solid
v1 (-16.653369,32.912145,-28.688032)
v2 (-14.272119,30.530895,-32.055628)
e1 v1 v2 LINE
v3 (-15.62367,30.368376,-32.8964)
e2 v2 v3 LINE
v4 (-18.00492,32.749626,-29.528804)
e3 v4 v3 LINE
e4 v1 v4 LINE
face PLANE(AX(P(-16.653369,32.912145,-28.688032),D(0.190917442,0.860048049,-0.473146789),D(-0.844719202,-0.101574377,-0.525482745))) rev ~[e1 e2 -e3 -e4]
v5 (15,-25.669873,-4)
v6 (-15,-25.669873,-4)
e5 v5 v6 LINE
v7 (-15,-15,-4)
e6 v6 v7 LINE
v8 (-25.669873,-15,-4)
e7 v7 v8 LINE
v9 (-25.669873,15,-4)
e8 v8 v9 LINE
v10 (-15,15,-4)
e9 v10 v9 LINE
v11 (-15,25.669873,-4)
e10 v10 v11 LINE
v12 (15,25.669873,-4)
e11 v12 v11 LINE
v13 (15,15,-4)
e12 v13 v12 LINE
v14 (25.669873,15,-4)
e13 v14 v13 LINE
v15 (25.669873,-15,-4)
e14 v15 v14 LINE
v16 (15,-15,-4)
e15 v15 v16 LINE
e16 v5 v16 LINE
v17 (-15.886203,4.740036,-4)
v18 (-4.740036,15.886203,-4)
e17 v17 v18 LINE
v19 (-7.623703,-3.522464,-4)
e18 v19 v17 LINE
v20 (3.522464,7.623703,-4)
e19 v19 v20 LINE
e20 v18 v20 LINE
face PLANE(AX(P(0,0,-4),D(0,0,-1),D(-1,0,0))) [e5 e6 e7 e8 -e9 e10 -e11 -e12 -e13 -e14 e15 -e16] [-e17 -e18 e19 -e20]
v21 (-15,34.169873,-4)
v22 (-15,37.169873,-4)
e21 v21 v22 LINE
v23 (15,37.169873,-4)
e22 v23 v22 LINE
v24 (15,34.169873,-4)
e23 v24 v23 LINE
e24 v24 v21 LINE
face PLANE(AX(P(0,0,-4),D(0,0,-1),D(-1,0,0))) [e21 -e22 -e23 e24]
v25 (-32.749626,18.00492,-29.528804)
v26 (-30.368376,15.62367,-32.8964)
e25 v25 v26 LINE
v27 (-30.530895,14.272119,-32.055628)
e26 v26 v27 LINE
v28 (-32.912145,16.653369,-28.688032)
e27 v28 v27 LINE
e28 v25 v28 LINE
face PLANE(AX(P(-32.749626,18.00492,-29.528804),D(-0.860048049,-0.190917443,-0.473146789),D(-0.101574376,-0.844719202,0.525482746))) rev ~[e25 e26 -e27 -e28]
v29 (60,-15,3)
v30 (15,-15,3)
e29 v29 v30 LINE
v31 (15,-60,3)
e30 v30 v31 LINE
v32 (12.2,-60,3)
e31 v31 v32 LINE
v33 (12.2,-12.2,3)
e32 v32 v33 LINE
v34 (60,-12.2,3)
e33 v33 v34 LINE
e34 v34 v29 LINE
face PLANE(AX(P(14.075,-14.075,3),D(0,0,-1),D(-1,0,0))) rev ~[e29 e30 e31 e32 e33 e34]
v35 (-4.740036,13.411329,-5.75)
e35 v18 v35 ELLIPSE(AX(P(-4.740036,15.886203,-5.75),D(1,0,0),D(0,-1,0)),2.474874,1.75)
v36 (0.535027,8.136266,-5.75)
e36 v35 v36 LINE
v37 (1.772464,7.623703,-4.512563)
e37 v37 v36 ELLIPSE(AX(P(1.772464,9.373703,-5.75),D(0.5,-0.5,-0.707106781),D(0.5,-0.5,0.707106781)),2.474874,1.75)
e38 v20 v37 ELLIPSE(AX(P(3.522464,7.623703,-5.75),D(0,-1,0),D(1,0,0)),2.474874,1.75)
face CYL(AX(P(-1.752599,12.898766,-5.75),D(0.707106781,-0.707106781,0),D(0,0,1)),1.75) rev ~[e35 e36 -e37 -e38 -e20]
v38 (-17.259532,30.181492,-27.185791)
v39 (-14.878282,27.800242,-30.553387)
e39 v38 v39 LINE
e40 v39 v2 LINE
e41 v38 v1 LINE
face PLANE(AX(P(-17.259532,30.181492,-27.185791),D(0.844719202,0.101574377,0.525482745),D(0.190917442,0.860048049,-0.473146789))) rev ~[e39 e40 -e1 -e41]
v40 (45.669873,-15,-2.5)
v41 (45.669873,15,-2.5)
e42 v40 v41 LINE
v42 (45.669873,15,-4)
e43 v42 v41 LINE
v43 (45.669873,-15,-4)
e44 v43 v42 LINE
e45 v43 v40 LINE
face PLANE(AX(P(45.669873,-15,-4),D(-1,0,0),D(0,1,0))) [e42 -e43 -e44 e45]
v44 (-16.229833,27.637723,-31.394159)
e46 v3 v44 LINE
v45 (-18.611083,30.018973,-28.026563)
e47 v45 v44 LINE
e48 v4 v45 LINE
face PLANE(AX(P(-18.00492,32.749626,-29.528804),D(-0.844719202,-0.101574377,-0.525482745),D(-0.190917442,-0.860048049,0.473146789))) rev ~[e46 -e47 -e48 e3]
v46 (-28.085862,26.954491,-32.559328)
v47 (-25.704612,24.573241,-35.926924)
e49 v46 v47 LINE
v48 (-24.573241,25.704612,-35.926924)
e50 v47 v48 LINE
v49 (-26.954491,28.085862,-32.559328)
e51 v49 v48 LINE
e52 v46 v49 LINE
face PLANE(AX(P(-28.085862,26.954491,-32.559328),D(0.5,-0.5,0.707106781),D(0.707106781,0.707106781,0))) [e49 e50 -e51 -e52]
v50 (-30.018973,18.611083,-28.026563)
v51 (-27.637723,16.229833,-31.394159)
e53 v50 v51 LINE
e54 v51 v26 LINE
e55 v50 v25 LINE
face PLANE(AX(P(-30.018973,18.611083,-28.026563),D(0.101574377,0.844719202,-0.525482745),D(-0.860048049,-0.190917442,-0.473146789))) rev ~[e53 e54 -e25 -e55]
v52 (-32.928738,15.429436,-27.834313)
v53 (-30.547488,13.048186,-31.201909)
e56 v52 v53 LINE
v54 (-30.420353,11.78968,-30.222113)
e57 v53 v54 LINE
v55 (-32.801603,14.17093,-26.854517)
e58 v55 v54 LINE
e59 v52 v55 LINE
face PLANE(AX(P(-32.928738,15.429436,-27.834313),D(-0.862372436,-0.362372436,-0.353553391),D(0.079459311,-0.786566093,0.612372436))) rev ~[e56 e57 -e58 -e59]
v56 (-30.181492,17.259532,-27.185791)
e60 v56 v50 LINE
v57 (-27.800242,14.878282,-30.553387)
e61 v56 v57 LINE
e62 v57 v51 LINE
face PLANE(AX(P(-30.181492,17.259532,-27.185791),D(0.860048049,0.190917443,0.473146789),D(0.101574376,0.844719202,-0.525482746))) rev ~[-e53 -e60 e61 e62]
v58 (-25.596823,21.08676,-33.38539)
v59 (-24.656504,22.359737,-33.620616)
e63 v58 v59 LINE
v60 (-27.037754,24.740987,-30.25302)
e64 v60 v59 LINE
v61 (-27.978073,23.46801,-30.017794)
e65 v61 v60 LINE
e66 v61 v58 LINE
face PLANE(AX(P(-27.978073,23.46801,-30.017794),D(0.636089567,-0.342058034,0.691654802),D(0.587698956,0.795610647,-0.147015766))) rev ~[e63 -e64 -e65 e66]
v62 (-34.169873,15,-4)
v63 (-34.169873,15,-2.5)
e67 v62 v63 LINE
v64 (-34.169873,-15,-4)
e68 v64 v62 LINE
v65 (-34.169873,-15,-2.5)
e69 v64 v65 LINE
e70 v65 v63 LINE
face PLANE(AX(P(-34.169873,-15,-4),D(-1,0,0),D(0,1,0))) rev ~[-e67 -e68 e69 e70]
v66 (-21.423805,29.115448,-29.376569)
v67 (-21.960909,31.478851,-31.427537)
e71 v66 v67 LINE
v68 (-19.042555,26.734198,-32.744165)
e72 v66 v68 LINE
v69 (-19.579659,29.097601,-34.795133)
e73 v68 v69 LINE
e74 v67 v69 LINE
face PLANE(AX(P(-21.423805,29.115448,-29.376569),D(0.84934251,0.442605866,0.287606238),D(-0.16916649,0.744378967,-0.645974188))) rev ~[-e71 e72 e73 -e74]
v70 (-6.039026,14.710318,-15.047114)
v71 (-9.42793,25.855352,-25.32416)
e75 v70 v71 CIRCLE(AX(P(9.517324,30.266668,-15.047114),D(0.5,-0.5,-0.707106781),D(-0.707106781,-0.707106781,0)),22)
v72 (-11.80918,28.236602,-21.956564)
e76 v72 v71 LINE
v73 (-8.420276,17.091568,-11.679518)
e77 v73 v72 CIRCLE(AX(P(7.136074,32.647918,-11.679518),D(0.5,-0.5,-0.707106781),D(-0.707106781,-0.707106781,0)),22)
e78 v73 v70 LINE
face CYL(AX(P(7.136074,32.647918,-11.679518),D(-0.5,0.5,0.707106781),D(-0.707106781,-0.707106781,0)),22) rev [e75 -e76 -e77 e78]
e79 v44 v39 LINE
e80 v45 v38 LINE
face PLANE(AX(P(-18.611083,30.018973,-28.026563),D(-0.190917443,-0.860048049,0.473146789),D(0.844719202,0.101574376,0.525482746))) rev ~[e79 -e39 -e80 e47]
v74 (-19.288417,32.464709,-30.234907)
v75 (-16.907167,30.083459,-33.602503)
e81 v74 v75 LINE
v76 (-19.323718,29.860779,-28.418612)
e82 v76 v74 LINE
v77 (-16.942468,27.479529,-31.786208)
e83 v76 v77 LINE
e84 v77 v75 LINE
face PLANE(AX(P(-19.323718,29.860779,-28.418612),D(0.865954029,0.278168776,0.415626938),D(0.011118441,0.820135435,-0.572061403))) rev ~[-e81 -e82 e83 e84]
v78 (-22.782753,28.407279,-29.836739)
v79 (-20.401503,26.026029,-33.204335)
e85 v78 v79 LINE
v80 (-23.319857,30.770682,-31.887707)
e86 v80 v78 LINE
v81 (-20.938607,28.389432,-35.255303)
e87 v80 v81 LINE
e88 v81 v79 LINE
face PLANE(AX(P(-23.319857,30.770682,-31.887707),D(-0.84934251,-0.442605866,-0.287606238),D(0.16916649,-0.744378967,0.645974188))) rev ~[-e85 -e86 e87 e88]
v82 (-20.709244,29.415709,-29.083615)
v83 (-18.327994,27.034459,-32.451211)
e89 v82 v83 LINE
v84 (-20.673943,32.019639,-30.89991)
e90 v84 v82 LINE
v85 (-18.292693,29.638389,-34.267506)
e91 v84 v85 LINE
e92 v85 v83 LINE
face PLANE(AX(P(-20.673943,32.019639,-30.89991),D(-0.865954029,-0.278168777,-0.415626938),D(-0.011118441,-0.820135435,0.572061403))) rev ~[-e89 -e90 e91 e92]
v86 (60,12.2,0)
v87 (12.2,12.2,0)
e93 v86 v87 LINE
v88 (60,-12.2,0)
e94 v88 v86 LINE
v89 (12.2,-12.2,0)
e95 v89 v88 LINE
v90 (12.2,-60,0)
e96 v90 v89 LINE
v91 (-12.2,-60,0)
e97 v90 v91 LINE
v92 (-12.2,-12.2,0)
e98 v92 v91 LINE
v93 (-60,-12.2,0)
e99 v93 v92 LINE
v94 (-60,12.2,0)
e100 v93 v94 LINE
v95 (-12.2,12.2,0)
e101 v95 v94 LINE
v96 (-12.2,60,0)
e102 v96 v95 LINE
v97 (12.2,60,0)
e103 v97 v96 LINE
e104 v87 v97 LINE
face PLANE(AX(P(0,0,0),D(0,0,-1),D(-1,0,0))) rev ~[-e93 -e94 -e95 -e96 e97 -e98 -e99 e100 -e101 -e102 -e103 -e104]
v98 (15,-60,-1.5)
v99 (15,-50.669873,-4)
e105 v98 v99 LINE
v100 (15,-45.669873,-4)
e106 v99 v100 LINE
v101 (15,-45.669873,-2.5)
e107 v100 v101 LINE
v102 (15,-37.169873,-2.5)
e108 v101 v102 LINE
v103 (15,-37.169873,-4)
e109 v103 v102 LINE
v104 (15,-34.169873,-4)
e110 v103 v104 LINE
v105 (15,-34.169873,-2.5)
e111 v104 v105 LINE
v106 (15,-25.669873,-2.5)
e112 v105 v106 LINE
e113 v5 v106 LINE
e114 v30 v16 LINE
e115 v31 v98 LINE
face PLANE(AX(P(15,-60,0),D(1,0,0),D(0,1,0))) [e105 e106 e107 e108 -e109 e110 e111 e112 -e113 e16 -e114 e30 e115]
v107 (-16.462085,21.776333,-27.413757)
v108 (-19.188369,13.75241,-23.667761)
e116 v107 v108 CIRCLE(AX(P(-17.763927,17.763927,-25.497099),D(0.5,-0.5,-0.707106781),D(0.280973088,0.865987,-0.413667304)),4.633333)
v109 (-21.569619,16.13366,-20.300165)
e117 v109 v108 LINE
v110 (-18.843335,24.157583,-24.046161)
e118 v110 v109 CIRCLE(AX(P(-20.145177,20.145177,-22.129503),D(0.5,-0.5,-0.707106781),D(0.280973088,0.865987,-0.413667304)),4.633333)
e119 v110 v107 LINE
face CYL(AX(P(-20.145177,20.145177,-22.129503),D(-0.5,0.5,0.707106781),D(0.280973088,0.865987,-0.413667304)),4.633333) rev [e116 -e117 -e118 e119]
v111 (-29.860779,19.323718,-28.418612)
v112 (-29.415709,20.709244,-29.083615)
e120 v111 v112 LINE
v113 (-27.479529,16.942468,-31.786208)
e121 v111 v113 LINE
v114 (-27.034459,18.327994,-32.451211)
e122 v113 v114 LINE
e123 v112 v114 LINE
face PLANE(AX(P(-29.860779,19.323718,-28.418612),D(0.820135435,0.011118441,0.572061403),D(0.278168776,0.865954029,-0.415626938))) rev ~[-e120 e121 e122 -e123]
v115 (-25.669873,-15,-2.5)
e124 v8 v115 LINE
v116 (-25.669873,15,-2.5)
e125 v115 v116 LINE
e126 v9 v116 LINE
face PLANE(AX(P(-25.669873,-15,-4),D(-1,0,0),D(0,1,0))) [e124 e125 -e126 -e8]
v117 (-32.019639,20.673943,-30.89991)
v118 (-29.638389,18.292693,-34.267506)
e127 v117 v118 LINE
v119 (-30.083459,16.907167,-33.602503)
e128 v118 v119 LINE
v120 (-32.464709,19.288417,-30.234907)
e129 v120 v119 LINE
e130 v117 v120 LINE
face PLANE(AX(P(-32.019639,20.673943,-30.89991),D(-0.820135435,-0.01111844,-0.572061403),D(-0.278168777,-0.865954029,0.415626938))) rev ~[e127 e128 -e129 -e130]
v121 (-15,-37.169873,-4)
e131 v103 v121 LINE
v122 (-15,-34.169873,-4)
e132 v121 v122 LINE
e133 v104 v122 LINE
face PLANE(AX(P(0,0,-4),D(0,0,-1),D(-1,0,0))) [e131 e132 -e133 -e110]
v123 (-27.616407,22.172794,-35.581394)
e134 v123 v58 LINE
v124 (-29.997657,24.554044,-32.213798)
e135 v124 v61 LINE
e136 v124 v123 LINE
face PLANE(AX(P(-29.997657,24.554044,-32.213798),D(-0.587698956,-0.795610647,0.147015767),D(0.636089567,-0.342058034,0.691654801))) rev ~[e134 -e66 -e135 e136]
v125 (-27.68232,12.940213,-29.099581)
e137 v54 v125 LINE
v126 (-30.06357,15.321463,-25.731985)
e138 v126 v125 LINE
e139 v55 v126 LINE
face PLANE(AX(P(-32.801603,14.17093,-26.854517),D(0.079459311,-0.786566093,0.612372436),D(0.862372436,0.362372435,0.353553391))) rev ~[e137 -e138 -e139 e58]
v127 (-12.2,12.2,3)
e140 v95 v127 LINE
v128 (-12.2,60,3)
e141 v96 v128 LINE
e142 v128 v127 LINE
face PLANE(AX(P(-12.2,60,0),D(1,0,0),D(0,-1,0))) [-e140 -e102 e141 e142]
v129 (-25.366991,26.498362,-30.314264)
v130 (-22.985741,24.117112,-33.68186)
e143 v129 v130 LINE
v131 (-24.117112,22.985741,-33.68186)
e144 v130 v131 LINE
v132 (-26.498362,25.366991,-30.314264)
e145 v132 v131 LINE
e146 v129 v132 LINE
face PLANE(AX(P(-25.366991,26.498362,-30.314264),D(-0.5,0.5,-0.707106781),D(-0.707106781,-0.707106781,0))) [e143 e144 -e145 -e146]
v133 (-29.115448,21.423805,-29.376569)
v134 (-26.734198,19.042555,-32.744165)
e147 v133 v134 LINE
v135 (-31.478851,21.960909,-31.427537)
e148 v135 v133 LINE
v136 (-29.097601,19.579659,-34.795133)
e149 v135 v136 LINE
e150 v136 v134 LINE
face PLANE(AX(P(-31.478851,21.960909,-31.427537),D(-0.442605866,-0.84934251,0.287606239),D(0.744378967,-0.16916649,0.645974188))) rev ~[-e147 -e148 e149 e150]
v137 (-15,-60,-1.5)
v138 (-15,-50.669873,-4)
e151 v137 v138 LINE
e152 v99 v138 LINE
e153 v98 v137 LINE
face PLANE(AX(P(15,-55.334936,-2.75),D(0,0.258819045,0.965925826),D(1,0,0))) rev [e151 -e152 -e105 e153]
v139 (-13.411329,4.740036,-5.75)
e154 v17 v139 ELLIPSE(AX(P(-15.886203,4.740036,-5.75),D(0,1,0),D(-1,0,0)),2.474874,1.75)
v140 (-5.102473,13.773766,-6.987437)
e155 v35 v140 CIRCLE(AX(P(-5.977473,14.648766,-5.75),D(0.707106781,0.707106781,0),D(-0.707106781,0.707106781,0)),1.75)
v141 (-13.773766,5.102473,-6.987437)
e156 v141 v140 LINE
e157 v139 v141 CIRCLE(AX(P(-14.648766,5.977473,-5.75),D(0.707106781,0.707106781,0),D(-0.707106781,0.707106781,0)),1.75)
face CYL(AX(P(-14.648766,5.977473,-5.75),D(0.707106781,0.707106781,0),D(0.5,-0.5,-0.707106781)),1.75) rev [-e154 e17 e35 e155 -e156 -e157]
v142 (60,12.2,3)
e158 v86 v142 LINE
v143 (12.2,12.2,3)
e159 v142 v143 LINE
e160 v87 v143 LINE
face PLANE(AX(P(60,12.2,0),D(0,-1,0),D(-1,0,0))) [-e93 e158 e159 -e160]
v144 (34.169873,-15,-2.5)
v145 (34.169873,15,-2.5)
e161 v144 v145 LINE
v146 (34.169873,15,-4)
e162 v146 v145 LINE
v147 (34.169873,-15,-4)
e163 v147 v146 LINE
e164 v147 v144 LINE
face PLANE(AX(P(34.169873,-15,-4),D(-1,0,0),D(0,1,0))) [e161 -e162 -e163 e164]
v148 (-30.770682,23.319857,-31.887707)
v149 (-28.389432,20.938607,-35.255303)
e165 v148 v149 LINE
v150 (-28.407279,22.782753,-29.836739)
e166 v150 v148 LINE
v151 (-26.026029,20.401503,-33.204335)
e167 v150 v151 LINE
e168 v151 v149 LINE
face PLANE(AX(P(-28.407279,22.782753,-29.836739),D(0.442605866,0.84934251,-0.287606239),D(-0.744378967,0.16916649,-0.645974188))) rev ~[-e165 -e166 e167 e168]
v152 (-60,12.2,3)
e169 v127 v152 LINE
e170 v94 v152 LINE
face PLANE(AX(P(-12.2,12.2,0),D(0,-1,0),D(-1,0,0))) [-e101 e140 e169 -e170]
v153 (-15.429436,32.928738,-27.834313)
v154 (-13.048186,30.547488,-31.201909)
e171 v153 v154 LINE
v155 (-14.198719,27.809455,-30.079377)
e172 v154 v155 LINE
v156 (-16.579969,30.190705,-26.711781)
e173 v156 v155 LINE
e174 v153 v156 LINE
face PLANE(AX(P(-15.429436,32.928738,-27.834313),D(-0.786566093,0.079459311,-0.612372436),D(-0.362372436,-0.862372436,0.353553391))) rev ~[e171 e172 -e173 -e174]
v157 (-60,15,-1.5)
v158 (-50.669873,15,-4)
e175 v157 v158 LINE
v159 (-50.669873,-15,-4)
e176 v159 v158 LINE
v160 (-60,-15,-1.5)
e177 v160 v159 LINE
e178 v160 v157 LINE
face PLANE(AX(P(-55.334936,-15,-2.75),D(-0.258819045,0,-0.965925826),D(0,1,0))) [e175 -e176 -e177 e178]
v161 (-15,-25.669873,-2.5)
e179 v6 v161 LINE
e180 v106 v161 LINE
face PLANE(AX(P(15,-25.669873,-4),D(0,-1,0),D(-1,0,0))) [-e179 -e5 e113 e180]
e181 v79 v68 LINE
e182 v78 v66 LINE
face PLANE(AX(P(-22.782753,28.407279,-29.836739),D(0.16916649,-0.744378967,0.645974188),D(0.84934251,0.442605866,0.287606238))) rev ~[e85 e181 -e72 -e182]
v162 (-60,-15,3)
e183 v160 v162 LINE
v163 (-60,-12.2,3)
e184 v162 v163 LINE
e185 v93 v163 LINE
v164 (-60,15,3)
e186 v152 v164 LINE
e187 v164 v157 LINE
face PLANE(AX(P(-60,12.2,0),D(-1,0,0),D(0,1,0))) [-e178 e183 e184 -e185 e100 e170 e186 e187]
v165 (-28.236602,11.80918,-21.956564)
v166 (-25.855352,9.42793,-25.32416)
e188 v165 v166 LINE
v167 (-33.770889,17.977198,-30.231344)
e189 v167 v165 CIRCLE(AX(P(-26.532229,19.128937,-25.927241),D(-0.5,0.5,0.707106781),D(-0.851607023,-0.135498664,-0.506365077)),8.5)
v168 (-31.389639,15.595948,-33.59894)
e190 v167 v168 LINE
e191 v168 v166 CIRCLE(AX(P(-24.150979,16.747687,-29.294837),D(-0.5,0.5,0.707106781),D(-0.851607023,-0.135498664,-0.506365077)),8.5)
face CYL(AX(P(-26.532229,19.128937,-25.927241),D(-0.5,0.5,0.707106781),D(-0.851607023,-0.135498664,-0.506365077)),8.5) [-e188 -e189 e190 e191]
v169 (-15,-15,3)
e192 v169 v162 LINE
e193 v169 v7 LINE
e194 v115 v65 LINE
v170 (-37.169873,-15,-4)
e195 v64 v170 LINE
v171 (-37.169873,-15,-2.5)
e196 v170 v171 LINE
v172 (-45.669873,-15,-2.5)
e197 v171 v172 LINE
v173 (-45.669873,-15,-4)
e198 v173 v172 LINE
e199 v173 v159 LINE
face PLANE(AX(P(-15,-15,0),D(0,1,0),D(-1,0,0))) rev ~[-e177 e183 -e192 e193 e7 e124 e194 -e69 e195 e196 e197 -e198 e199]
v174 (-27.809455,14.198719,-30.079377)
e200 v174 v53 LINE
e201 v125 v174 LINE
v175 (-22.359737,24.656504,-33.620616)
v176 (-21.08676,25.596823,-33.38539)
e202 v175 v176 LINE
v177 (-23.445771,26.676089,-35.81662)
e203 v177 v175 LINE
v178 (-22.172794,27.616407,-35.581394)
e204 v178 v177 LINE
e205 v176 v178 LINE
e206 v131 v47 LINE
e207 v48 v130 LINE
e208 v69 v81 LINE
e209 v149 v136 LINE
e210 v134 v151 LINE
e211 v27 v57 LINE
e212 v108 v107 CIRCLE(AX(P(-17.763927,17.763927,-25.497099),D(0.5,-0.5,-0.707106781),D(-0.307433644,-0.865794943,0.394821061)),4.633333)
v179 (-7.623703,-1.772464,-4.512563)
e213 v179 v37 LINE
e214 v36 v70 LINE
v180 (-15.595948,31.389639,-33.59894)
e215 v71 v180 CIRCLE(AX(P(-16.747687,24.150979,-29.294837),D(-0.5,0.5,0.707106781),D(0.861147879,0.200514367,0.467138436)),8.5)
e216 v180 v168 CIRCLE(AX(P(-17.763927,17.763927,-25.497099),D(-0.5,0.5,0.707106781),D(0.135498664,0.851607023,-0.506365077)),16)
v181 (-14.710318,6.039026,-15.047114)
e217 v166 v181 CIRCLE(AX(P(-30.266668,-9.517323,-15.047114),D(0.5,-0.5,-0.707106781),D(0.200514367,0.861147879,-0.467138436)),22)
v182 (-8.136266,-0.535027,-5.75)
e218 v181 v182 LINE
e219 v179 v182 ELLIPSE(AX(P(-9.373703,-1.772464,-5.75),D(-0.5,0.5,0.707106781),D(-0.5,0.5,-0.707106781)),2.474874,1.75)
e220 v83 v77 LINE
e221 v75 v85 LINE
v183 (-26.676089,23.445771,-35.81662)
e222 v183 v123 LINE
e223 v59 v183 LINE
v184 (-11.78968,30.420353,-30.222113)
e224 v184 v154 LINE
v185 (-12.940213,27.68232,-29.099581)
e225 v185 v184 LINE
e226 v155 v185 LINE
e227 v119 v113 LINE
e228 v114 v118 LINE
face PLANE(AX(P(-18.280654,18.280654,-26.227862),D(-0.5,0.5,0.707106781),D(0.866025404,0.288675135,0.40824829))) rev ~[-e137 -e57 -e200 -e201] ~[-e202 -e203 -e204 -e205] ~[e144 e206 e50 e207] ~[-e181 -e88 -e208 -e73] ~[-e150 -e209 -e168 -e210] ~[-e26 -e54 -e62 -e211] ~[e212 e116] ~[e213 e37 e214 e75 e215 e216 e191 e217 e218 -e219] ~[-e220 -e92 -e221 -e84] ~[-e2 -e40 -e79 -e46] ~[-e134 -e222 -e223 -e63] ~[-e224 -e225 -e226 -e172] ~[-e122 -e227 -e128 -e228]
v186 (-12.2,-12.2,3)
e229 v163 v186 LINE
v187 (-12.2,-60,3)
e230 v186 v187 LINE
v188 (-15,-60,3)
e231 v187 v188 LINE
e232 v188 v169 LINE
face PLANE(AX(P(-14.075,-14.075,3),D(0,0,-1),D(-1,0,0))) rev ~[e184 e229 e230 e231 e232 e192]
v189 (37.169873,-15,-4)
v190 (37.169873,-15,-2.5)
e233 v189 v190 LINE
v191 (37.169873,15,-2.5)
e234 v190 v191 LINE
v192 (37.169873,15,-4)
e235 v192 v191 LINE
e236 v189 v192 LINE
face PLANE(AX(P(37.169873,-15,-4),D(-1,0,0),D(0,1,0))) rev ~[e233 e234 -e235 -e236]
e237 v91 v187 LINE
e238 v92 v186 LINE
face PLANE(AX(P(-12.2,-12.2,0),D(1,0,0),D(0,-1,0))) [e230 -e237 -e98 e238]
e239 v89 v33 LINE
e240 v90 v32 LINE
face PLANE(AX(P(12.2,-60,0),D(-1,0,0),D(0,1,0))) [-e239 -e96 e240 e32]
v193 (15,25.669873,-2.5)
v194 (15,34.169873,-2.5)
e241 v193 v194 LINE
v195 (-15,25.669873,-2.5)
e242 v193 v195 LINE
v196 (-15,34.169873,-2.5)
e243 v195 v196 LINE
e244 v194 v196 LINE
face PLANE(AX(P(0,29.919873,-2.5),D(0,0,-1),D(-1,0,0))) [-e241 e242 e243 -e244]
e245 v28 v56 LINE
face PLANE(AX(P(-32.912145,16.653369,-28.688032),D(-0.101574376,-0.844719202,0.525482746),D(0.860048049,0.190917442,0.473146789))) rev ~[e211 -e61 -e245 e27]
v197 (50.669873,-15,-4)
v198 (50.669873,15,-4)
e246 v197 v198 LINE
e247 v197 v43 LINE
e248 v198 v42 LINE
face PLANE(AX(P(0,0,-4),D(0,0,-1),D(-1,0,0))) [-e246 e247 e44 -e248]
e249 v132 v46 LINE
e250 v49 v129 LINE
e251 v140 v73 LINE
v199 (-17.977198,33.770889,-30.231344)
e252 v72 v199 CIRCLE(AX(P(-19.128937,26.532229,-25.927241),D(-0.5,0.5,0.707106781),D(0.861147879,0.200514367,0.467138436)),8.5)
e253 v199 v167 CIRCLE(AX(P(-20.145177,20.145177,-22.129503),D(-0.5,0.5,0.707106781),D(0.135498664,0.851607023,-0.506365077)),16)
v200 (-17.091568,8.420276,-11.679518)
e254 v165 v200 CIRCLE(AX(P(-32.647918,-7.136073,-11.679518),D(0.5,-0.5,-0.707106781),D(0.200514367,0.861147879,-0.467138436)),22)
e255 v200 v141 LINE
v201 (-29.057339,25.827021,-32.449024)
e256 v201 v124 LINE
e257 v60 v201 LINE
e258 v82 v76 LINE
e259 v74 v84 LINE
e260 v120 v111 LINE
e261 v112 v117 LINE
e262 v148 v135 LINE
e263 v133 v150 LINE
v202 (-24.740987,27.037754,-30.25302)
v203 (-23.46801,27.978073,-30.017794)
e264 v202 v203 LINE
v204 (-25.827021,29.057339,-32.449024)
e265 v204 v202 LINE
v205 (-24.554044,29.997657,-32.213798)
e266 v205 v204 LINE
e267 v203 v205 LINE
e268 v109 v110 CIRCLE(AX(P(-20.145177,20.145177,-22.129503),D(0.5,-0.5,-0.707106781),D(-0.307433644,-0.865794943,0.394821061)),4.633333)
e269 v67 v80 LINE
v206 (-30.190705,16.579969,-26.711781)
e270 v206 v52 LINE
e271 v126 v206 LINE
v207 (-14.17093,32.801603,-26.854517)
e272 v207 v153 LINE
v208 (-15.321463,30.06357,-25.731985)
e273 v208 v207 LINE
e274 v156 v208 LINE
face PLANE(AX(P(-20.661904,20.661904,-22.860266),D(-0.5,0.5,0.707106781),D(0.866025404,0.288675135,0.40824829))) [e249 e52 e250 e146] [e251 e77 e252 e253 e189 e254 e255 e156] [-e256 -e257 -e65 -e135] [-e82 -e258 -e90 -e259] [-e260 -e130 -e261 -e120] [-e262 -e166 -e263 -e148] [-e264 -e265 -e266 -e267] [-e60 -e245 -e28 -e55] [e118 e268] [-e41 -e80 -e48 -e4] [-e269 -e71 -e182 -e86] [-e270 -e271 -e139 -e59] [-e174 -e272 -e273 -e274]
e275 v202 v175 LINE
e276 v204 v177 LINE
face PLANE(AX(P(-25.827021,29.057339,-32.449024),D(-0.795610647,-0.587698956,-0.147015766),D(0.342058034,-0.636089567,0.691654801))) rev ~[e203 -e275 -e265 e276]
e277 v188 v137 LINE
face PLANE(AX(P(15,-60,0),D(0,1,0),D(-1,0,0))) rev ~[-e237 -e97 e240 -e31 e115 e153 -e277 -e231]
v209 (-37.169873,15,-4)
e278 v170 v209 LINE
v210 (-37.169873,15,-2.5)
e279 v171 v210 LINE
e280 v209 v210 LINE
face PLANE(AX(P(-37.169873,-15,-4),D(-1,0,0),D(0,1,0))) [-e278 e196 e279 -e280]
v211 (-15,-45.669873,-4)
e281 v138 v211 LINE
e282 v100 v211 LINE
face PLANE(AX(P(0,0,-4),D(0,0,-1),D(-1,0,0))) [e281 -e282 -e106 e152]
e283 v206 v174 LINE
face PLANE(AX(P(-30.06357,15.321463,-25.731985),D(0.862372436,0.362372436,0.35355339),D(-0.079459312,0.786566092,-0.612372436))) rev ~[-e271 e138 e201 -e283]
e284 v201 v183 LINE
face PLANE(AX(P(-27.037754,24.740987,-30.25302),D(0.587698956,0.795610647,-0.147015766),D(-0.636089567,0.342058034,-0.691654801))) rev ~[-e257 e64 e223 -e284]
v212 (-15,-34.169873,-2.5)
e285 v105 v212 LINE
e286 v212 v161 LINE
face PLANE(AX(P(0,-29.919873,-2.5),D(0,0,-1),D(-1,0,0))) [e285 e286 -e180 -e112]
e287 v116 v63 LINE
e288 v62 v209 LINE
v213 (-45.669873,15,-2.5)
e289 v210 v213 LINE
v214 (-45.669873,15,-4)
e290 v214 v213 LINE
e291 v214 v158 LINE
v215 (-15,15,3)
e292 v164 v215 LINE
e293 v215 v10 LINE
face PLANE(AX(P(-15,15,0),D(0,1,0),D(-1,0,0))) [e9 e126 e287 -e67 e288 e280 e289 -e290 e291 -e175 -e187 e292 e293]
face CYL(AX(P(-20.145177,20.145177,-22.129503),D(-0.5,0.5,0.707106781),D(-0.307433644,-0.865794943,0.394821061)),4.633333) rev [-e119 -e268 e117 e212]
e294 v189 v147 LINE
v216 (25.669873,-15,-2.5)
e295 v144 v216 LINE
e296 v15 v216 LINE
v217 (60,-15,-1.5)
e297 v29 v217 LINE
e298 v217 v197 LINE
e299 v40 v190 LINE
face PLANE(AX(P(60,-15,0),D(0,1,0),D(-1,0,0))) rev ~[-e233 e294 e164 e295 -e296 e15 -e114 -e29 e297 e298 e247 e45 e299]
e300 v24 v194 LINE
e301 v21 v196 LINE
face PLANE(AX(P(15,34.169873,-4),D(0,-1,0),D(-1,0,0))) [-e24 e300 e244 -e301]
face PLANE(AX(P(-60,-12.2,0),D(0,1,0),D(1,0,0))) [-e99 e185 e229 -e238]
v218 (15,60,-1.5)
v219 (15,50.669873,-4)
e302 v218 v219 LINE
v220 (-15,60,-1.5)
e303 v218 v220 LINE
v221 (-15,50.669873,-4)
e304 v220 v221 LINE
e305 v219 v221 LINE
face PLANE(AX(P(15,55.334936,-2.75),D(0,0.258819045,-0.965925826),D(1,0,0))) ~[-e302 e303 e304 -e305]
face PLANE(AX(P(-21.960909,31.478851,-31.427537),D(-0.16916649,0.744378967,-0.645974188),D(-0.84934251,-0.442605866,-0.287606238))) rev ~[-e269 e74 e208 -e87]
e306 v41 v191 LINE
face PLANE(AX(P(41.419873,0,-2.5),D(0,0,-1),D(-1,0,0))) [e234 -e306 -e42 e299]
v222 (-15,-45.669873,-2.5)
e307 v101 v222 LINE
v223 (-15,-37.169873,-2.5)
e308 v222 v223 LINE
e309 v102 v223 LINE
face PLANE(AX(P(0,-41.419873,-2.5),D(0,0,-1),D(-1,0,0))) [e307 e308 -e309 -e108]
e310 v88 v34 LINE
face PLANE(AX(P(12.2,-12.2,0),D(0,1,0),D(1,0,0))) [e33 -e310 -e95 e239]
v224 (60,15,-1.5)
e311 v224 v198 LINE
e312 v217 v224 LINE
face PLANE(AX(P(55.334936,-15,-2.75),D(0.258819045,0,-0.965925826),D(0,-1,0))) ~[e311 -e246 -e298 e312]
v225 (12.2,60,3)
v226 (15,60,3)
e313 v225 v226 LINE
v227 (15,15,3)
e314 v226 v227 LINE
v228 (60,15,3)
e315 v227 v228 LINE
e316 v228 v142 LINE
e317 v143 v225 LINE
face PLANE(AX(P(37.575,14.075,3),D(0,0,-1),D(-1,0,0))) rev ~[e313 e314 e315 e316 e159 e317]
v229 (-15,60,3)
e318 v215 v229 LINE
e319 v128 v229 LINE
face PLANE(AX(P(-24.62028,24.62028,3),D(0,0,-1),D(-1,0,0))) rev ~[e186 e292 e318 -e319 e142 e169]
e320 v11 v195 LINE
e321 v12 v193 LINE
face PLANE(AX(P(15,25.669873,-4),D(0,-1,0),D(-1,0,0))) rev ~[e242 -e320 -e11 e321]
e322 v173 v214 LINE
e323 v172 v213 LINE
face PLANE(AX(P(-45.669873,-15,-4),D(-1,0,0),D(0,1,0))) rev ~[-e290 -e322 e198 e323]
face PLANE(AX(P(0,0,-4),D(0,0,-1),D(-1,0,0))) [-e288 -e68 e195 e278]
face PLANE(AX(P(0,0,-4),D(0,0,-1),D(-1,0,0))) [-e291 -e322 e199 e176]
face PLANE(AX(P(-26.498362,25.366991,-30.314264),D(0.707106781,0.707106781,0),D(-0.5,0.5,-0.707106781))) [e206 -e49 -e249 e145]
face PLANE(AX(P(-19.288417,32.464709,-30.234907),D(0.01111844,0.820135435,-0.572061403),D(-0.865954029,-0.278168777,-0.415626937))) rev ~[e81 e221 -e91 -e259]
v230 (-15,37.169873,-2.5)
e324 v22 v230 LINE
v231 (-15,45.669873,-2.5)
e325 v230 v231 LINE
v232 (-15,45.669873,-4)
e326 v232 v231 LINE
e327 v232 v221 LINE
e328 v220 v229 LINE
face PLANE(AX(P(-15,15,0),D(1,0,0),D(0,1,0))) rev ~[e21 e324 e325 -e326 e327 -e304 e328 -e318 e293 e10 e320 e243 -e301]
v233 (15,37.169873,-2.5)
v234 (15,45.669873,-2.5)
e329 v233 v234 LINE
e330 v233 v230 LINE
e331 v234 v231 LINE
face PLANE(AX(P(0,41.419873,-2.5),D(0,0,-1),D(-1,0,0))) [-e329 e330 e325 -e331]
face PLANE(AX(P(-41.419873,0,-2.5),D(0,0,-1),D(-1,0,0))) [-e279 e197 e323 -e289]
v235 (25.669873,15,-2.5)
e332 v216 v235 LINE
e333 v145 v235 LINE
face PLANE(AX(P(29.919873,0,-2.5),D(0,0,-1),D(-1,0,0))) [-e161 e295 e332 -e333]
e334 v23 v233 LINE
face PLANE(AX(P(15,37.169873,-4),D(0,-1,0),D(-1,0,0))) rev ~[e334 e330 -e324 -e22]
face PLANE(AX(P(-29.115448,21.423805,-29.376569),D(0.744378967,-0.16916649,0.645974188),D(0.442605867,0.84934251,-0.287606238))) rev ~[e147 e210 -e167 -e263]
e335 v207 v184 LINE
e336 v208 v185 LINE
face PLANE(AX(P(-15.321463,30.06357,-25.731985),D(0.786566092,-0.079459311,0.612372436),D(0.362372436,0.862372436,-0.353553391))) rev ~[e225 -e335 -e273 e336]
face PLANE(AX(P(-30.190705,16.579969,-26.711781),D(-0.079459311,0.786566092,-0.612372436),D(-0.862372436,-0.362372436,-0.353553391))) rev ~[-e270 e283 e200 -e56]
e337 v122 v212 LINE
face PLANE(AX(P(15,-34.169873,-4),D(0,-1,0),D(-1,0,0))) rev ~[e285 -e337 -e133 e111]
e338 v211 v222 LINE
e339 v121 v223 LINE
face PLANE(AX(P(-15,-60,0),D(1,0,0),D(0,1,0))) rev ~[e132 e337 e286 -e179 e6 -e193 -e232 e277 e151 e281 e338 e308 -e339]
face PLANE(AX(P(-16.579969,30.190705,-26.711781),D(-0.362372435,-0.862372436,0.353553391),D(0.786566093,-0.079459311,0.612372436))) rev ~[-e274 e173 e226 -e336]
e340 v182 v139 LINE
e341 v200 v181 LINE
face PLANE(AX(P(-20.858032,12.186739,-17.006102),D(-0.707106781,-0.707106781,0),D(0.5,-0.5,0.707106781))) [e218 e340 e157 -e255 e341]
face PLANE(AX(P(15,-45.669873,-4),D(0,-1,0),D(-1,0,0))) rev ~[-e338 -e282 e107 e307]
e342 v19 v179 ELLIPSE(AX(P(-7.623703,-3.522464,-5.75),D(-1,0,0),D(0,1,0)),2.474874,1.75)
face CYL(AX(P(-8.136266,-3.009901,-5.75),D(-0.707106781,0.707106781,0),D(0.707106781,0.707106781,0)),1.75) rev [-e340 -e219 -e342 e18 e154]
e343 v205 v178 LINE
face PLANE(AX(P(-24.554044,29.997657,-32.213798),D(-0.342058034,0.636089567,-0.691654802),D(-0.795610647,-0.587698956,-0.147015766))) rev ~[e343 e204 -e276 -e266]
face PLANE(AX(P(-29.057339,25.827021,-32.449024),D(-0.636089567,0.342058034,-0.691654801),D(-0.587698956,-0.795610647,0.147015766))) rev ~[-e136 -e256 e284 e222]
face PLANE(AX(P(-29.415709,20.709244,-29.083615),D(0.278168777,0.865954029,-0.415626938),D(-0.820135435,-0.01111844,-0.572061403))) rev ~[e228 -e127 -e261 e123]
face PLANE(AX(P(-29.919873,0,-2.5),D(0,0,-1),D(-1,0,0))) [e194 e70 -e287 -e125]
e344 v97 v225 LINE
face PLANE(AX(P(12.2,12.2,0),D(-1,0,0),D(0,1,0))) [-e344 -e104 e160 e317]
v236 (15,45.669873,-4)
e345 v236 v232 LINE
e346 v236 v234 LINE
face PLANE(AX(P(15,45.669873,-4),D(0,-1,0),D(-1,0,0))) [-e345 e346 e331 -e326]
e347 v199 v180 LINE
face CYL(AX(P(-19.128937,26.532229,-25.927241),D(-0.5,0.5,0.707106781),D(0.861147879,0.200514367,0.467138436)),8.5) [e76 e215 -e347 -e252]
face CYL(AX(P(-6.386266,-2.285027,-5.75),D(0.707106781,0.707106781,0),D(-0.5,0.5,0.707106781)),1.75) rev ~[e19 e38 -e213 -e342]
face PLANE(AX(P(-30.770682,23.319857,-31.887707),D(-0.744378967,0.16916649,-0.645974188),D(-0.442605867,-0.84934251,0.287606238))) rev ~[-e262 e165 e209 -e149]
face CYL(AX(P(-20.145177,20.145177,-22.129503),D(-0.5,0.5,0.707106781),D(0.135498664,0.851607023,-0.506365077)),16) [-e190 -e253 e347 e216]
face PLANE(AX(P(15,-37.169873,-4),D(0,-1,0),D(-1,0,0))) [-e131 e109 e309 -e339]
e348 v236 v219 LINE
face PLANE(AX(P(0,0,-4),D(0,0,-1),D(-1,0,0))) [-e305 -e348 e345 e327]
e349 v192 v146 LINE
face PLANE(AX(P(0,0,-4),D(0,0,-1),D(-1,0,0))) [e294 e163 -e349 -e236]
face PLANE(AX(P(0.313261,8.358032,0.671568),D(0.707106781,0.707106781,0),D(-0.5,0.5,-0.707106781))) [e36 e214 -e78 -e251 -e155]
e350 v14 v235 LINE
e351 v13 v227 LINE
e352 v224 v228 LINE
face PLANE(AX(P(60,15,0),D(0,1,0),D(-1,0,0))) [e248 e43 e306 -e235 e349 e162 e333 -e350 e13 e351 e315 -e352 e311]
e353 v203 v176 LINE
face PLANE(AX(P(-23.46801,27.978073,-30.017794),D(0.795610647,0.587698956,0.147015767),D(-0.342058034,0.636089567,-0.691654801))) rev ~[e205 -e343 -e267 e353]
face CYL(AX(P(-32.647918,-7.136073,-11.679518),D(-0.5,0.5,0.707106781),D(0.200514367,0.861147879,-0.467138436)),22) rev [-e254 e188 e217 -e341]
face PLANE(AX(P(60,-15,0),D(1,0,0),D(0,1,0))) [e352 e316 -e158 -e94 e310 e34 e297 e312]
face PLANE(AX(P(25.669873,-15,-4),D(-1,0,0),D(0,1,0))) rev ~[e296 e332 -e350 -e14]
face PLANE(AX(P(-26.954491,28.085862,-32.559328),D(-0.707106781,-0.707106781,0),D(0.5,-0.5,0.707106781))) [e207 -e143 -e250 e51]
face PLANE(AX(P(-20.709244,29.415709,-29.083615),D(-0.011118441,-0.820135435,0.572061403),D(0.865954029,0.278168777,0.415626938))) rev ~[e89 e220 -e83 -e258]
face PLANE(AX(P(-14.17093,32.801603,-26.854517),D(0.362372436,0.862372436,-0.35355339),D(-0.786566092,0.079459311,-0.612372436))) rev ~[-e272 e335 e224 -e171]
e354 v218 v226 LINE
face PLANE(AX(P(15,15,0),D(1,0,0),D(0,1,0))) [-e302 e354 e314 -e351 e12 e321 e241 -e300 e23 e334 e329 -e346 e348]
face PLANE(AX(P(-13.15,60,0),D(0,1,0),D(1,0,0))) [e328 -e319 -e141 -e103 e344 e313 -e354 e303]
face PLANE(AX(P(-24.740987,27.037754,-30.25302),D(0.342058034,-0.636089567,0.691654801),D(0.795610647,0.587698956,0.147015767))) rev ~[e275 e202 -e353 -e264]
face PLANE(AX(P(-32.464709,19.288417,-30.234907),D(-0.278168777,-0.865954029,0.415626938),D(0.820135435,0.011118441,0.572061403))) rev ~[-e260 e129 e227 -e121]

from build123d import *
from OCP.BRepFilletAPI import BRepFilletAPI_MakeChamfer

# Parameters (mm, degrees)
SKETCH1_W           = 1.85
SKETCH1_H           = 38.85
SKETCH1_H_2         = 6.15
SKETCH1_W_2         = 44.85
SKETCH1_H_3         = 1.85
SKETCH1_W_3         = 0.15
BOSS_EXTRUDE1_DEPTH = 3
SKETCH1_4_W         = 120
SKETCH1_4_H         = 30
SKETCH1_4_W_2       = 30
SKETCH1_4_H_2       = 120
BOSS_EXTRUDE3_DEPTH = 4
BOSS_EXTRUDE9_DEPTH = 3
CHAMFER1_SIZE       = 2.5
CHAMFER1_SIZE2      = 9.330127019
SKETCH4_W           = 8.5
SKETCH4_H           = 30
SKETCH4_W_2         = 30
SKETCH4_H_2         = 8.5
CUT_EXTRUDE1_DEPTH  = 1.5
BOSS_EXTRUDE7_DEPTH = 4.7625
SKETCH10_R          = 14.258178215
CUT_EXTRUDE2_DEPTH  = 91.287114527
FILLET1_R           = 1.75
BOSS_EXTRUDE8_DEPTH = 4.7625
CUT_EXTRUDE3_DEPTH  = 97.69049149


with BuildPart() as part:
    # Sketch1 → Boss-Extrude1 (new body)
    with BuildSketch(Plane(origin=(0, 0, 0), x_dir=(-1, 0, 0), z_dir=(0, 0, -1))):
        with Locations((14.075, 40.575)):
            Rectangle(SKETCH1_W, SKETCH1_H)
        with Locations((14.075, 18.075)):
            Rectangle(SKETCH1_W, SKETCH1_H_2)
        with Locations((37.575, 14.075)):
            Rectangle(SKETCH1_W_2, SKETCH1_H_3)
        with Locations((14.075, 14.075)):
            Rectangle(SKETCH1_W, SKETCH1_H_3)
        with Locations((14.075, -14.075)):
            Rectangle(SKETCH1_W, SKETCH1_H_3)
        with Locations((14.075, -18.075)):
            Rectangle(SKETCH1_W, SKETCH1_H_2)
        with Locations((37.575, -14.075)):
            Rectangle(SKETCH1_W_2, SKETCH1_H_3)
        with Locations((14.075, -40.575)):
            Rectangle(SKETCH1_W, SKETCH1_H)
        with Locations((-14.075, -14.075)):
            Rectangle(SKETCH1_W, SKETCH1_H_3)
        with Locations((-14.075, -18.075)):
            Rectangle(SKETCH1_W, SKETCH1_H_2)
        with Locations((-37.575, -14.075)):
            Rectangle(SKETCH1_W_2, SKETCH1_H_3)
        with Locations((-15.075, -14.075)):
            Rectangle(SKETCH1_W_3, SKETCH1_H_3)
        with Locations((15.075, -14.075)):
            Rectangle(SKETCH1_W_3, SKETCH1_H_3)
        with Locations((15.075, 14.075)):
            Rectangle(SKETCH1_W_3, SKETCH1_H_3)
        with Locations((-37.575, 14.075)):
            Rectangle(SKETCH1_W_2, SKETCH1_H_3)
        with Locations((-15.075, 14.075)):
            Rectangle(SKETCH1_W_3, SKETCH1_H_3)
        with Locations((-14.075, 18.075)):
            Rectangle(SKETCH1_W, SKETCH1_H_2)
        with Locations((-14.075, 14.075)):
            Rectangle(SKETCH1_W, SKETCH1_H_3)
        with Locations((-14.075, 40.575)):
            Rectangle(SKETCH1_W, SKETCH1_H)
        with Locations((-14.075, -40.575)):
            Rectangle(SKETCH1_W, SKETCH1_H)
    extrude(amount=-BOSS_EXTRUDE1_DEPTH)

    # Sketch1<4> → Boss-Extrude3 (add)
    with BuildSketch(Plane(origin=(0, 0, 0), x_dir=(-1, 0, 0), z_dir=(0, 0, -1))):
        Rectangle(SKETCH1_4_W, SKETCH1_4_H)
        Rectangle(SKETCH1_4_W_2, SKETCH1_4_H_2)
    extrude(amount=BOSS_EXTRUDE3_DEPTH)

    # Sketch13 → Boss-Extrude9 (add)
    with BuildSketch(Plane.XY):
        Polygon((-12.2, 12.2), (-60, 12.2), (-60, 13.15), (-13.15, 13.15), (-13.15, 60), (-12.2, 60), align=None)
        Polygon((-60, -12.2), (-12.2, -12.2), (-12.2, -60), (-13.15, -60), (-13.15, -13.15), (-60, -13.15), align=None)
        Polygon((12.2, -60), (12.2, -12.2), (60, -12.2), (60, -13.15), (13.15, -13.15), (13.15, -60), align=None)
        Polygon((60, 12.2), (12.2, 12.2), (12.2, 60), (13.15, 60), (13.15, 13.15), (60, 13.15), align=None)
    extrude(amount=BOSS_EXTRUDE9_DEPTH)

    # Chamfer1: one chamfer whose edges measure the first distance from different faces: ONE call of the kernel's chamfer builder (chamfer() names one face for all edges)
    chamfer1_edges_1 = [part.edges().sort_by_distance(p)[0] for p in [
        (60, 0, -4),
    ]]
    chamfer1_side_1 = [part.faces().sort_by_distance(p)[0] for p in [
        (60, 0, -1.570175439),
    ]]
    chamfer1_edges_2 = [part.edges().sort_by_distance(p)[0] for p in [
        (0, 60, -4),
    ]]
    chamfer1_side_2 = [part.faces().sort_by_distance(p)[0] for p in [
        (0, 60, -1.570175439),
    ]]
    chamfer1_edges_3 = [part.edges().sort_by_distance(p)[0] for p in [
        (0, -60, -4),
    ]]
    chamfer1_side_3 = [part.faces().sort_by_distance(p)[0] for p in [
        (0, -60, -1.570175439),
    ]]
    chamfer1_edges_4 = [part.edges().sort_by_distance(p)[0] for p in [
        (-60, 0, -4),
    ]]
    chamfer1_side_4 = [part.faces().sort_by_distance(p)[0] for p in [
        (-60, 0, -1.570175439),
    ]]
    chamfer1 = BRepFilletAPI_MakeChamfer(part.part.solid().wrapped)
    for e in chamfer1_edges_1:
        chamfer1.Add(CHAMFER1_SIZE, CHAMFER1_SIZE2, e.wrapped, chamfer1_side_1[0].wrapped)  # the first distance lies on this face
    for e in chamfer1_edges_2:
        chamfer1.Add(CHAMFER1_SIZE, CHAMFER1_SIZE2, e.wrapped, chamfer1_side_2[0].wrapped)  # the first distance lies on this face
    for e in chamfer1_edges_3:
        chamfer1.Add(CHAMFER1_SIZE, CHAMFER1_SIZE2, e.wrapped, chamfer1_side_3[0].wrapped)  # the first distance lies on this face
    for e in chamfer1_edges_4:
        chamfer1.Add(CHAMFER1_SIZE, CHAMFER1_SIZE2, e.wrapped, chamfer1_side_4[0].wrapped)  # the first distance lies on this face
    add(Compound.cast(chamfer1.Shape()), mode=Mode.REPLACE)

    # Sketch4 → Cut-Extrude1 (cut)
    with BuildSketch(Plane(origin=(0, 0, -4), x_dir=(-1, 0, 0), z_dir=(0, 0, -1))):
        with Locations((-41.419872981, 0)):
            Rectangle(SKETCH4_W, SKETCH4_H)
        with Locations((-29.919872981, 0)):
            Rectangle(SKETCH4_W, SKETCH4_H)
        with Locations((0, 41.419872981)):
            Rectangle(SKETCH4_W_2, SKETCH4_H_2)
        with Locations((0, 29.919872981)):
            Rectangle(SKETCH4_W_2, SKETCH4_H_2)
        with Locations((29.919872981, 0)):
            Rectangle(SKETCH4_W, SKETCH4_H)
        with Locations((41.419872981, 0)):
            Rectangle(SKETCH4_W, SKETCH4_H)
        with Locations((0, -29.919872981)):
            Rectangle(SKETCH4_W_2, SKETCH4_H_2)
        with Locations((0, -41.419872981)):
            Rectangle(SKETCH4_W_2, SKETCH4_H_2)
    extrude(amount=-CUT_EXTRUDE1_DEPTH, mode=Mode.SUBTRACT)

    # Sketch9 → Boss-Extrude7 (add)
    with BuildSketch(Plane(origin=(-2.248627702, 2.248627702, 3.180039793), x_dir=(-0.86602540378444, -0.28867513459481, -0.40824829046386224), z_dir=(0.4999999999999977, -0.49999999999999806, -0.7071067811865507))):
        with BuildLine():
            Line((26.502649854, 26.860285477), (21.488288715, 19.768907948))
            Line((21.488288715, 19.768907948), (7.054531985, -0.643506575))
            Line((7.054531985, -0.643506575), (-2.958214479, 6.436574348))
            Line((-2.958214479, 6.436574348), (11.475542251, 26.848988872))
            Line((11.475542251, 26.848988872), (16.48990339, 33.940366401))
            ThreePointArc((16.48990339, 33.940366401), (25.036317083, 35.406699171), (26.502649854, 26.860285477))
        make_face()
        with BuildLine():
            ThreePointArc((19.161917241, 33.60764173), (16.307451178, 27.650713492), (22.309959452, 24.893384176))
            ThreePointArc((22.309959452, 24.893384176), (25.022858564, 30.799171082), (19.161917241, 33.60764173))
        make_face(mode=Mode.SUBTRACT)
    extrude(amount=BOSS_EXTRUDE7_DEPTH)

    # Sketch10 → Cut-Extrude2 (cut, through all)
    with BuildSketch(Plane.XY):
        Circle(SKETCH10_R)
    extrude(amount=CUT_EXTRUDE2_DEPTH, mode=Mode.SUBTRACT)

    # Fillet1
    fillet1_edges = [part.edges().sort_by_distance(p)[0] for p in [
        (-2.56318253, 2.56318253, -4),
        (-7.32568253, 7.32568253, -4),
        (-9.280078929, 0.60878613, -4),
        (-0.60878613, 9.280078929, -4),
    ]]
    fillet(fillet1_edges, radius=FILLET1_R)

    # Sketch11 → Boss-Extrude8 (add)
    with BuildSketch(Plane(origin=(-2.248627702, 2.248627702, 3.180039793), x_dir=(0.86602540378444, 0.28867513459481003, 0.4082482904638624), z_dir=(-0.4999999999999978, 0.4999999999999982, 0.7071067811865503))):
        with BuildLine():
            ThreePointArc((-26.502649854, 26.860285477), (-25.036317083, 35.406699171), (-16.48990339, 33.940366401))
            Line((-16.48990339, 33.940366401), (-7.126405249, 20.698380338))
            ThreePointArc((-7.126405249, 20.698380338), (-10.454022038, 27.858169656), (-11.039574704, 35.731716801))
            ThreePointArc((-11.039574704, 35.731716801), (-12.744347828, 41.802023869), (-18.161788795, 45.027890059))
            ThreePointArc((-18.161788795, 45.027890059), (-29.902759178, 42.288887582), (-36.398772273, 32.132395373))
            ThreePointArc((-36.398772273, 32.132395373), (-35.163210117, 25.949494318), (-30.008327436, 22.318783113))
            ThreePointArc((-30.008327436, 22.318783113), (-22.780260221, 19.142203051), (-17.139151713, 13.618299415))
            Line((-17.139151713, 13.618299415), (-26.502649854, 26.860285477))
        make_face()
    extrude(amount=-BOSS_EXTRUDE8_DEPTH)

    # Sketch12 → Cut-Extrude3 (cut, through all)
    with BuildSketch(Plane(origin=(-2.248627702, 2.248627702, 3.180039793), x_dir=(0.86602540378444, 0.28867513459481003, 0.4082482904638624), z_dir=(-0.4999999999999978, 0.4999999999999982, 0.7071067811865503))):
        Polygon((-25.756076527, 43.091629588), (-27.225983794, 42.459670234), (-25.971939452, 39.542823), (-24.502032185, 40.174782353), align=None)
        Polygon((-28.527874077, 41.730147071), (-26.694786972, 39.137770427), (-28.001181502, 38.214009996), (-29.834268606, 40.80638664), align=None)
        Polygon((-22.761781271, 43.84707133), (-24.330959276, 43.53453271), (-23.710765452, 40.420695106), (-22.141587447, 40.733233726), align=None)
        Polygon((-19.675853381, 43.963455868), (-21.275721515, 43.983997418), (-21.316483655, 40.809259091), (-19.716615522, 40.78871754), align=None)
        Polygon((-16.633162714, 43.435696639), (-18.193799062, 43.788420596), (-18.893735665, 40.691532844), (-17.333099317, 40.338808886), align=None)
        Polygon((-13.766689451, 42.286859254), (-15.219886716, 42.956349889), (-16.548407194, 40.072661566), (-15.095209929, 39.403170932), align=None)
        Polygon((-30.956033068, 39.822127099), (-32.04181915, 38.646938354), (-29.709803985, 36.492331599), (-28.624017903, 37.667520343), align=None)
        Polygon((-32.934431301, 37.450959299), (-33.752154873, 36.075703628), (-31.023131901, 34.453033416), (-30.205408329, 35.828289087), align=None)
        Polygon((-34.376603279, 34.720275083), (-34.890525897, 33.205057758), (-31.883766517, 32.185242563), (-31.3698439, 33.700459888), align=None)
        Polygon((-35.219519168, 31.749418455), (-35.407179947, 30.160461743), (-32.254093972, 29.788072384), (-32.066433193, 31.377029095), align=None)
        Polygon((-35.426339496, 28.668230104), (-35.279536761, 27.074979039), (-32.117929178, 27.366290716), (-32.264731914, 28.959541782), align=None)
    extrude(amount=-CUT_EXTRUDE3_DEPTH, mode=Mode.SUBTRACT)


solid = part.part
